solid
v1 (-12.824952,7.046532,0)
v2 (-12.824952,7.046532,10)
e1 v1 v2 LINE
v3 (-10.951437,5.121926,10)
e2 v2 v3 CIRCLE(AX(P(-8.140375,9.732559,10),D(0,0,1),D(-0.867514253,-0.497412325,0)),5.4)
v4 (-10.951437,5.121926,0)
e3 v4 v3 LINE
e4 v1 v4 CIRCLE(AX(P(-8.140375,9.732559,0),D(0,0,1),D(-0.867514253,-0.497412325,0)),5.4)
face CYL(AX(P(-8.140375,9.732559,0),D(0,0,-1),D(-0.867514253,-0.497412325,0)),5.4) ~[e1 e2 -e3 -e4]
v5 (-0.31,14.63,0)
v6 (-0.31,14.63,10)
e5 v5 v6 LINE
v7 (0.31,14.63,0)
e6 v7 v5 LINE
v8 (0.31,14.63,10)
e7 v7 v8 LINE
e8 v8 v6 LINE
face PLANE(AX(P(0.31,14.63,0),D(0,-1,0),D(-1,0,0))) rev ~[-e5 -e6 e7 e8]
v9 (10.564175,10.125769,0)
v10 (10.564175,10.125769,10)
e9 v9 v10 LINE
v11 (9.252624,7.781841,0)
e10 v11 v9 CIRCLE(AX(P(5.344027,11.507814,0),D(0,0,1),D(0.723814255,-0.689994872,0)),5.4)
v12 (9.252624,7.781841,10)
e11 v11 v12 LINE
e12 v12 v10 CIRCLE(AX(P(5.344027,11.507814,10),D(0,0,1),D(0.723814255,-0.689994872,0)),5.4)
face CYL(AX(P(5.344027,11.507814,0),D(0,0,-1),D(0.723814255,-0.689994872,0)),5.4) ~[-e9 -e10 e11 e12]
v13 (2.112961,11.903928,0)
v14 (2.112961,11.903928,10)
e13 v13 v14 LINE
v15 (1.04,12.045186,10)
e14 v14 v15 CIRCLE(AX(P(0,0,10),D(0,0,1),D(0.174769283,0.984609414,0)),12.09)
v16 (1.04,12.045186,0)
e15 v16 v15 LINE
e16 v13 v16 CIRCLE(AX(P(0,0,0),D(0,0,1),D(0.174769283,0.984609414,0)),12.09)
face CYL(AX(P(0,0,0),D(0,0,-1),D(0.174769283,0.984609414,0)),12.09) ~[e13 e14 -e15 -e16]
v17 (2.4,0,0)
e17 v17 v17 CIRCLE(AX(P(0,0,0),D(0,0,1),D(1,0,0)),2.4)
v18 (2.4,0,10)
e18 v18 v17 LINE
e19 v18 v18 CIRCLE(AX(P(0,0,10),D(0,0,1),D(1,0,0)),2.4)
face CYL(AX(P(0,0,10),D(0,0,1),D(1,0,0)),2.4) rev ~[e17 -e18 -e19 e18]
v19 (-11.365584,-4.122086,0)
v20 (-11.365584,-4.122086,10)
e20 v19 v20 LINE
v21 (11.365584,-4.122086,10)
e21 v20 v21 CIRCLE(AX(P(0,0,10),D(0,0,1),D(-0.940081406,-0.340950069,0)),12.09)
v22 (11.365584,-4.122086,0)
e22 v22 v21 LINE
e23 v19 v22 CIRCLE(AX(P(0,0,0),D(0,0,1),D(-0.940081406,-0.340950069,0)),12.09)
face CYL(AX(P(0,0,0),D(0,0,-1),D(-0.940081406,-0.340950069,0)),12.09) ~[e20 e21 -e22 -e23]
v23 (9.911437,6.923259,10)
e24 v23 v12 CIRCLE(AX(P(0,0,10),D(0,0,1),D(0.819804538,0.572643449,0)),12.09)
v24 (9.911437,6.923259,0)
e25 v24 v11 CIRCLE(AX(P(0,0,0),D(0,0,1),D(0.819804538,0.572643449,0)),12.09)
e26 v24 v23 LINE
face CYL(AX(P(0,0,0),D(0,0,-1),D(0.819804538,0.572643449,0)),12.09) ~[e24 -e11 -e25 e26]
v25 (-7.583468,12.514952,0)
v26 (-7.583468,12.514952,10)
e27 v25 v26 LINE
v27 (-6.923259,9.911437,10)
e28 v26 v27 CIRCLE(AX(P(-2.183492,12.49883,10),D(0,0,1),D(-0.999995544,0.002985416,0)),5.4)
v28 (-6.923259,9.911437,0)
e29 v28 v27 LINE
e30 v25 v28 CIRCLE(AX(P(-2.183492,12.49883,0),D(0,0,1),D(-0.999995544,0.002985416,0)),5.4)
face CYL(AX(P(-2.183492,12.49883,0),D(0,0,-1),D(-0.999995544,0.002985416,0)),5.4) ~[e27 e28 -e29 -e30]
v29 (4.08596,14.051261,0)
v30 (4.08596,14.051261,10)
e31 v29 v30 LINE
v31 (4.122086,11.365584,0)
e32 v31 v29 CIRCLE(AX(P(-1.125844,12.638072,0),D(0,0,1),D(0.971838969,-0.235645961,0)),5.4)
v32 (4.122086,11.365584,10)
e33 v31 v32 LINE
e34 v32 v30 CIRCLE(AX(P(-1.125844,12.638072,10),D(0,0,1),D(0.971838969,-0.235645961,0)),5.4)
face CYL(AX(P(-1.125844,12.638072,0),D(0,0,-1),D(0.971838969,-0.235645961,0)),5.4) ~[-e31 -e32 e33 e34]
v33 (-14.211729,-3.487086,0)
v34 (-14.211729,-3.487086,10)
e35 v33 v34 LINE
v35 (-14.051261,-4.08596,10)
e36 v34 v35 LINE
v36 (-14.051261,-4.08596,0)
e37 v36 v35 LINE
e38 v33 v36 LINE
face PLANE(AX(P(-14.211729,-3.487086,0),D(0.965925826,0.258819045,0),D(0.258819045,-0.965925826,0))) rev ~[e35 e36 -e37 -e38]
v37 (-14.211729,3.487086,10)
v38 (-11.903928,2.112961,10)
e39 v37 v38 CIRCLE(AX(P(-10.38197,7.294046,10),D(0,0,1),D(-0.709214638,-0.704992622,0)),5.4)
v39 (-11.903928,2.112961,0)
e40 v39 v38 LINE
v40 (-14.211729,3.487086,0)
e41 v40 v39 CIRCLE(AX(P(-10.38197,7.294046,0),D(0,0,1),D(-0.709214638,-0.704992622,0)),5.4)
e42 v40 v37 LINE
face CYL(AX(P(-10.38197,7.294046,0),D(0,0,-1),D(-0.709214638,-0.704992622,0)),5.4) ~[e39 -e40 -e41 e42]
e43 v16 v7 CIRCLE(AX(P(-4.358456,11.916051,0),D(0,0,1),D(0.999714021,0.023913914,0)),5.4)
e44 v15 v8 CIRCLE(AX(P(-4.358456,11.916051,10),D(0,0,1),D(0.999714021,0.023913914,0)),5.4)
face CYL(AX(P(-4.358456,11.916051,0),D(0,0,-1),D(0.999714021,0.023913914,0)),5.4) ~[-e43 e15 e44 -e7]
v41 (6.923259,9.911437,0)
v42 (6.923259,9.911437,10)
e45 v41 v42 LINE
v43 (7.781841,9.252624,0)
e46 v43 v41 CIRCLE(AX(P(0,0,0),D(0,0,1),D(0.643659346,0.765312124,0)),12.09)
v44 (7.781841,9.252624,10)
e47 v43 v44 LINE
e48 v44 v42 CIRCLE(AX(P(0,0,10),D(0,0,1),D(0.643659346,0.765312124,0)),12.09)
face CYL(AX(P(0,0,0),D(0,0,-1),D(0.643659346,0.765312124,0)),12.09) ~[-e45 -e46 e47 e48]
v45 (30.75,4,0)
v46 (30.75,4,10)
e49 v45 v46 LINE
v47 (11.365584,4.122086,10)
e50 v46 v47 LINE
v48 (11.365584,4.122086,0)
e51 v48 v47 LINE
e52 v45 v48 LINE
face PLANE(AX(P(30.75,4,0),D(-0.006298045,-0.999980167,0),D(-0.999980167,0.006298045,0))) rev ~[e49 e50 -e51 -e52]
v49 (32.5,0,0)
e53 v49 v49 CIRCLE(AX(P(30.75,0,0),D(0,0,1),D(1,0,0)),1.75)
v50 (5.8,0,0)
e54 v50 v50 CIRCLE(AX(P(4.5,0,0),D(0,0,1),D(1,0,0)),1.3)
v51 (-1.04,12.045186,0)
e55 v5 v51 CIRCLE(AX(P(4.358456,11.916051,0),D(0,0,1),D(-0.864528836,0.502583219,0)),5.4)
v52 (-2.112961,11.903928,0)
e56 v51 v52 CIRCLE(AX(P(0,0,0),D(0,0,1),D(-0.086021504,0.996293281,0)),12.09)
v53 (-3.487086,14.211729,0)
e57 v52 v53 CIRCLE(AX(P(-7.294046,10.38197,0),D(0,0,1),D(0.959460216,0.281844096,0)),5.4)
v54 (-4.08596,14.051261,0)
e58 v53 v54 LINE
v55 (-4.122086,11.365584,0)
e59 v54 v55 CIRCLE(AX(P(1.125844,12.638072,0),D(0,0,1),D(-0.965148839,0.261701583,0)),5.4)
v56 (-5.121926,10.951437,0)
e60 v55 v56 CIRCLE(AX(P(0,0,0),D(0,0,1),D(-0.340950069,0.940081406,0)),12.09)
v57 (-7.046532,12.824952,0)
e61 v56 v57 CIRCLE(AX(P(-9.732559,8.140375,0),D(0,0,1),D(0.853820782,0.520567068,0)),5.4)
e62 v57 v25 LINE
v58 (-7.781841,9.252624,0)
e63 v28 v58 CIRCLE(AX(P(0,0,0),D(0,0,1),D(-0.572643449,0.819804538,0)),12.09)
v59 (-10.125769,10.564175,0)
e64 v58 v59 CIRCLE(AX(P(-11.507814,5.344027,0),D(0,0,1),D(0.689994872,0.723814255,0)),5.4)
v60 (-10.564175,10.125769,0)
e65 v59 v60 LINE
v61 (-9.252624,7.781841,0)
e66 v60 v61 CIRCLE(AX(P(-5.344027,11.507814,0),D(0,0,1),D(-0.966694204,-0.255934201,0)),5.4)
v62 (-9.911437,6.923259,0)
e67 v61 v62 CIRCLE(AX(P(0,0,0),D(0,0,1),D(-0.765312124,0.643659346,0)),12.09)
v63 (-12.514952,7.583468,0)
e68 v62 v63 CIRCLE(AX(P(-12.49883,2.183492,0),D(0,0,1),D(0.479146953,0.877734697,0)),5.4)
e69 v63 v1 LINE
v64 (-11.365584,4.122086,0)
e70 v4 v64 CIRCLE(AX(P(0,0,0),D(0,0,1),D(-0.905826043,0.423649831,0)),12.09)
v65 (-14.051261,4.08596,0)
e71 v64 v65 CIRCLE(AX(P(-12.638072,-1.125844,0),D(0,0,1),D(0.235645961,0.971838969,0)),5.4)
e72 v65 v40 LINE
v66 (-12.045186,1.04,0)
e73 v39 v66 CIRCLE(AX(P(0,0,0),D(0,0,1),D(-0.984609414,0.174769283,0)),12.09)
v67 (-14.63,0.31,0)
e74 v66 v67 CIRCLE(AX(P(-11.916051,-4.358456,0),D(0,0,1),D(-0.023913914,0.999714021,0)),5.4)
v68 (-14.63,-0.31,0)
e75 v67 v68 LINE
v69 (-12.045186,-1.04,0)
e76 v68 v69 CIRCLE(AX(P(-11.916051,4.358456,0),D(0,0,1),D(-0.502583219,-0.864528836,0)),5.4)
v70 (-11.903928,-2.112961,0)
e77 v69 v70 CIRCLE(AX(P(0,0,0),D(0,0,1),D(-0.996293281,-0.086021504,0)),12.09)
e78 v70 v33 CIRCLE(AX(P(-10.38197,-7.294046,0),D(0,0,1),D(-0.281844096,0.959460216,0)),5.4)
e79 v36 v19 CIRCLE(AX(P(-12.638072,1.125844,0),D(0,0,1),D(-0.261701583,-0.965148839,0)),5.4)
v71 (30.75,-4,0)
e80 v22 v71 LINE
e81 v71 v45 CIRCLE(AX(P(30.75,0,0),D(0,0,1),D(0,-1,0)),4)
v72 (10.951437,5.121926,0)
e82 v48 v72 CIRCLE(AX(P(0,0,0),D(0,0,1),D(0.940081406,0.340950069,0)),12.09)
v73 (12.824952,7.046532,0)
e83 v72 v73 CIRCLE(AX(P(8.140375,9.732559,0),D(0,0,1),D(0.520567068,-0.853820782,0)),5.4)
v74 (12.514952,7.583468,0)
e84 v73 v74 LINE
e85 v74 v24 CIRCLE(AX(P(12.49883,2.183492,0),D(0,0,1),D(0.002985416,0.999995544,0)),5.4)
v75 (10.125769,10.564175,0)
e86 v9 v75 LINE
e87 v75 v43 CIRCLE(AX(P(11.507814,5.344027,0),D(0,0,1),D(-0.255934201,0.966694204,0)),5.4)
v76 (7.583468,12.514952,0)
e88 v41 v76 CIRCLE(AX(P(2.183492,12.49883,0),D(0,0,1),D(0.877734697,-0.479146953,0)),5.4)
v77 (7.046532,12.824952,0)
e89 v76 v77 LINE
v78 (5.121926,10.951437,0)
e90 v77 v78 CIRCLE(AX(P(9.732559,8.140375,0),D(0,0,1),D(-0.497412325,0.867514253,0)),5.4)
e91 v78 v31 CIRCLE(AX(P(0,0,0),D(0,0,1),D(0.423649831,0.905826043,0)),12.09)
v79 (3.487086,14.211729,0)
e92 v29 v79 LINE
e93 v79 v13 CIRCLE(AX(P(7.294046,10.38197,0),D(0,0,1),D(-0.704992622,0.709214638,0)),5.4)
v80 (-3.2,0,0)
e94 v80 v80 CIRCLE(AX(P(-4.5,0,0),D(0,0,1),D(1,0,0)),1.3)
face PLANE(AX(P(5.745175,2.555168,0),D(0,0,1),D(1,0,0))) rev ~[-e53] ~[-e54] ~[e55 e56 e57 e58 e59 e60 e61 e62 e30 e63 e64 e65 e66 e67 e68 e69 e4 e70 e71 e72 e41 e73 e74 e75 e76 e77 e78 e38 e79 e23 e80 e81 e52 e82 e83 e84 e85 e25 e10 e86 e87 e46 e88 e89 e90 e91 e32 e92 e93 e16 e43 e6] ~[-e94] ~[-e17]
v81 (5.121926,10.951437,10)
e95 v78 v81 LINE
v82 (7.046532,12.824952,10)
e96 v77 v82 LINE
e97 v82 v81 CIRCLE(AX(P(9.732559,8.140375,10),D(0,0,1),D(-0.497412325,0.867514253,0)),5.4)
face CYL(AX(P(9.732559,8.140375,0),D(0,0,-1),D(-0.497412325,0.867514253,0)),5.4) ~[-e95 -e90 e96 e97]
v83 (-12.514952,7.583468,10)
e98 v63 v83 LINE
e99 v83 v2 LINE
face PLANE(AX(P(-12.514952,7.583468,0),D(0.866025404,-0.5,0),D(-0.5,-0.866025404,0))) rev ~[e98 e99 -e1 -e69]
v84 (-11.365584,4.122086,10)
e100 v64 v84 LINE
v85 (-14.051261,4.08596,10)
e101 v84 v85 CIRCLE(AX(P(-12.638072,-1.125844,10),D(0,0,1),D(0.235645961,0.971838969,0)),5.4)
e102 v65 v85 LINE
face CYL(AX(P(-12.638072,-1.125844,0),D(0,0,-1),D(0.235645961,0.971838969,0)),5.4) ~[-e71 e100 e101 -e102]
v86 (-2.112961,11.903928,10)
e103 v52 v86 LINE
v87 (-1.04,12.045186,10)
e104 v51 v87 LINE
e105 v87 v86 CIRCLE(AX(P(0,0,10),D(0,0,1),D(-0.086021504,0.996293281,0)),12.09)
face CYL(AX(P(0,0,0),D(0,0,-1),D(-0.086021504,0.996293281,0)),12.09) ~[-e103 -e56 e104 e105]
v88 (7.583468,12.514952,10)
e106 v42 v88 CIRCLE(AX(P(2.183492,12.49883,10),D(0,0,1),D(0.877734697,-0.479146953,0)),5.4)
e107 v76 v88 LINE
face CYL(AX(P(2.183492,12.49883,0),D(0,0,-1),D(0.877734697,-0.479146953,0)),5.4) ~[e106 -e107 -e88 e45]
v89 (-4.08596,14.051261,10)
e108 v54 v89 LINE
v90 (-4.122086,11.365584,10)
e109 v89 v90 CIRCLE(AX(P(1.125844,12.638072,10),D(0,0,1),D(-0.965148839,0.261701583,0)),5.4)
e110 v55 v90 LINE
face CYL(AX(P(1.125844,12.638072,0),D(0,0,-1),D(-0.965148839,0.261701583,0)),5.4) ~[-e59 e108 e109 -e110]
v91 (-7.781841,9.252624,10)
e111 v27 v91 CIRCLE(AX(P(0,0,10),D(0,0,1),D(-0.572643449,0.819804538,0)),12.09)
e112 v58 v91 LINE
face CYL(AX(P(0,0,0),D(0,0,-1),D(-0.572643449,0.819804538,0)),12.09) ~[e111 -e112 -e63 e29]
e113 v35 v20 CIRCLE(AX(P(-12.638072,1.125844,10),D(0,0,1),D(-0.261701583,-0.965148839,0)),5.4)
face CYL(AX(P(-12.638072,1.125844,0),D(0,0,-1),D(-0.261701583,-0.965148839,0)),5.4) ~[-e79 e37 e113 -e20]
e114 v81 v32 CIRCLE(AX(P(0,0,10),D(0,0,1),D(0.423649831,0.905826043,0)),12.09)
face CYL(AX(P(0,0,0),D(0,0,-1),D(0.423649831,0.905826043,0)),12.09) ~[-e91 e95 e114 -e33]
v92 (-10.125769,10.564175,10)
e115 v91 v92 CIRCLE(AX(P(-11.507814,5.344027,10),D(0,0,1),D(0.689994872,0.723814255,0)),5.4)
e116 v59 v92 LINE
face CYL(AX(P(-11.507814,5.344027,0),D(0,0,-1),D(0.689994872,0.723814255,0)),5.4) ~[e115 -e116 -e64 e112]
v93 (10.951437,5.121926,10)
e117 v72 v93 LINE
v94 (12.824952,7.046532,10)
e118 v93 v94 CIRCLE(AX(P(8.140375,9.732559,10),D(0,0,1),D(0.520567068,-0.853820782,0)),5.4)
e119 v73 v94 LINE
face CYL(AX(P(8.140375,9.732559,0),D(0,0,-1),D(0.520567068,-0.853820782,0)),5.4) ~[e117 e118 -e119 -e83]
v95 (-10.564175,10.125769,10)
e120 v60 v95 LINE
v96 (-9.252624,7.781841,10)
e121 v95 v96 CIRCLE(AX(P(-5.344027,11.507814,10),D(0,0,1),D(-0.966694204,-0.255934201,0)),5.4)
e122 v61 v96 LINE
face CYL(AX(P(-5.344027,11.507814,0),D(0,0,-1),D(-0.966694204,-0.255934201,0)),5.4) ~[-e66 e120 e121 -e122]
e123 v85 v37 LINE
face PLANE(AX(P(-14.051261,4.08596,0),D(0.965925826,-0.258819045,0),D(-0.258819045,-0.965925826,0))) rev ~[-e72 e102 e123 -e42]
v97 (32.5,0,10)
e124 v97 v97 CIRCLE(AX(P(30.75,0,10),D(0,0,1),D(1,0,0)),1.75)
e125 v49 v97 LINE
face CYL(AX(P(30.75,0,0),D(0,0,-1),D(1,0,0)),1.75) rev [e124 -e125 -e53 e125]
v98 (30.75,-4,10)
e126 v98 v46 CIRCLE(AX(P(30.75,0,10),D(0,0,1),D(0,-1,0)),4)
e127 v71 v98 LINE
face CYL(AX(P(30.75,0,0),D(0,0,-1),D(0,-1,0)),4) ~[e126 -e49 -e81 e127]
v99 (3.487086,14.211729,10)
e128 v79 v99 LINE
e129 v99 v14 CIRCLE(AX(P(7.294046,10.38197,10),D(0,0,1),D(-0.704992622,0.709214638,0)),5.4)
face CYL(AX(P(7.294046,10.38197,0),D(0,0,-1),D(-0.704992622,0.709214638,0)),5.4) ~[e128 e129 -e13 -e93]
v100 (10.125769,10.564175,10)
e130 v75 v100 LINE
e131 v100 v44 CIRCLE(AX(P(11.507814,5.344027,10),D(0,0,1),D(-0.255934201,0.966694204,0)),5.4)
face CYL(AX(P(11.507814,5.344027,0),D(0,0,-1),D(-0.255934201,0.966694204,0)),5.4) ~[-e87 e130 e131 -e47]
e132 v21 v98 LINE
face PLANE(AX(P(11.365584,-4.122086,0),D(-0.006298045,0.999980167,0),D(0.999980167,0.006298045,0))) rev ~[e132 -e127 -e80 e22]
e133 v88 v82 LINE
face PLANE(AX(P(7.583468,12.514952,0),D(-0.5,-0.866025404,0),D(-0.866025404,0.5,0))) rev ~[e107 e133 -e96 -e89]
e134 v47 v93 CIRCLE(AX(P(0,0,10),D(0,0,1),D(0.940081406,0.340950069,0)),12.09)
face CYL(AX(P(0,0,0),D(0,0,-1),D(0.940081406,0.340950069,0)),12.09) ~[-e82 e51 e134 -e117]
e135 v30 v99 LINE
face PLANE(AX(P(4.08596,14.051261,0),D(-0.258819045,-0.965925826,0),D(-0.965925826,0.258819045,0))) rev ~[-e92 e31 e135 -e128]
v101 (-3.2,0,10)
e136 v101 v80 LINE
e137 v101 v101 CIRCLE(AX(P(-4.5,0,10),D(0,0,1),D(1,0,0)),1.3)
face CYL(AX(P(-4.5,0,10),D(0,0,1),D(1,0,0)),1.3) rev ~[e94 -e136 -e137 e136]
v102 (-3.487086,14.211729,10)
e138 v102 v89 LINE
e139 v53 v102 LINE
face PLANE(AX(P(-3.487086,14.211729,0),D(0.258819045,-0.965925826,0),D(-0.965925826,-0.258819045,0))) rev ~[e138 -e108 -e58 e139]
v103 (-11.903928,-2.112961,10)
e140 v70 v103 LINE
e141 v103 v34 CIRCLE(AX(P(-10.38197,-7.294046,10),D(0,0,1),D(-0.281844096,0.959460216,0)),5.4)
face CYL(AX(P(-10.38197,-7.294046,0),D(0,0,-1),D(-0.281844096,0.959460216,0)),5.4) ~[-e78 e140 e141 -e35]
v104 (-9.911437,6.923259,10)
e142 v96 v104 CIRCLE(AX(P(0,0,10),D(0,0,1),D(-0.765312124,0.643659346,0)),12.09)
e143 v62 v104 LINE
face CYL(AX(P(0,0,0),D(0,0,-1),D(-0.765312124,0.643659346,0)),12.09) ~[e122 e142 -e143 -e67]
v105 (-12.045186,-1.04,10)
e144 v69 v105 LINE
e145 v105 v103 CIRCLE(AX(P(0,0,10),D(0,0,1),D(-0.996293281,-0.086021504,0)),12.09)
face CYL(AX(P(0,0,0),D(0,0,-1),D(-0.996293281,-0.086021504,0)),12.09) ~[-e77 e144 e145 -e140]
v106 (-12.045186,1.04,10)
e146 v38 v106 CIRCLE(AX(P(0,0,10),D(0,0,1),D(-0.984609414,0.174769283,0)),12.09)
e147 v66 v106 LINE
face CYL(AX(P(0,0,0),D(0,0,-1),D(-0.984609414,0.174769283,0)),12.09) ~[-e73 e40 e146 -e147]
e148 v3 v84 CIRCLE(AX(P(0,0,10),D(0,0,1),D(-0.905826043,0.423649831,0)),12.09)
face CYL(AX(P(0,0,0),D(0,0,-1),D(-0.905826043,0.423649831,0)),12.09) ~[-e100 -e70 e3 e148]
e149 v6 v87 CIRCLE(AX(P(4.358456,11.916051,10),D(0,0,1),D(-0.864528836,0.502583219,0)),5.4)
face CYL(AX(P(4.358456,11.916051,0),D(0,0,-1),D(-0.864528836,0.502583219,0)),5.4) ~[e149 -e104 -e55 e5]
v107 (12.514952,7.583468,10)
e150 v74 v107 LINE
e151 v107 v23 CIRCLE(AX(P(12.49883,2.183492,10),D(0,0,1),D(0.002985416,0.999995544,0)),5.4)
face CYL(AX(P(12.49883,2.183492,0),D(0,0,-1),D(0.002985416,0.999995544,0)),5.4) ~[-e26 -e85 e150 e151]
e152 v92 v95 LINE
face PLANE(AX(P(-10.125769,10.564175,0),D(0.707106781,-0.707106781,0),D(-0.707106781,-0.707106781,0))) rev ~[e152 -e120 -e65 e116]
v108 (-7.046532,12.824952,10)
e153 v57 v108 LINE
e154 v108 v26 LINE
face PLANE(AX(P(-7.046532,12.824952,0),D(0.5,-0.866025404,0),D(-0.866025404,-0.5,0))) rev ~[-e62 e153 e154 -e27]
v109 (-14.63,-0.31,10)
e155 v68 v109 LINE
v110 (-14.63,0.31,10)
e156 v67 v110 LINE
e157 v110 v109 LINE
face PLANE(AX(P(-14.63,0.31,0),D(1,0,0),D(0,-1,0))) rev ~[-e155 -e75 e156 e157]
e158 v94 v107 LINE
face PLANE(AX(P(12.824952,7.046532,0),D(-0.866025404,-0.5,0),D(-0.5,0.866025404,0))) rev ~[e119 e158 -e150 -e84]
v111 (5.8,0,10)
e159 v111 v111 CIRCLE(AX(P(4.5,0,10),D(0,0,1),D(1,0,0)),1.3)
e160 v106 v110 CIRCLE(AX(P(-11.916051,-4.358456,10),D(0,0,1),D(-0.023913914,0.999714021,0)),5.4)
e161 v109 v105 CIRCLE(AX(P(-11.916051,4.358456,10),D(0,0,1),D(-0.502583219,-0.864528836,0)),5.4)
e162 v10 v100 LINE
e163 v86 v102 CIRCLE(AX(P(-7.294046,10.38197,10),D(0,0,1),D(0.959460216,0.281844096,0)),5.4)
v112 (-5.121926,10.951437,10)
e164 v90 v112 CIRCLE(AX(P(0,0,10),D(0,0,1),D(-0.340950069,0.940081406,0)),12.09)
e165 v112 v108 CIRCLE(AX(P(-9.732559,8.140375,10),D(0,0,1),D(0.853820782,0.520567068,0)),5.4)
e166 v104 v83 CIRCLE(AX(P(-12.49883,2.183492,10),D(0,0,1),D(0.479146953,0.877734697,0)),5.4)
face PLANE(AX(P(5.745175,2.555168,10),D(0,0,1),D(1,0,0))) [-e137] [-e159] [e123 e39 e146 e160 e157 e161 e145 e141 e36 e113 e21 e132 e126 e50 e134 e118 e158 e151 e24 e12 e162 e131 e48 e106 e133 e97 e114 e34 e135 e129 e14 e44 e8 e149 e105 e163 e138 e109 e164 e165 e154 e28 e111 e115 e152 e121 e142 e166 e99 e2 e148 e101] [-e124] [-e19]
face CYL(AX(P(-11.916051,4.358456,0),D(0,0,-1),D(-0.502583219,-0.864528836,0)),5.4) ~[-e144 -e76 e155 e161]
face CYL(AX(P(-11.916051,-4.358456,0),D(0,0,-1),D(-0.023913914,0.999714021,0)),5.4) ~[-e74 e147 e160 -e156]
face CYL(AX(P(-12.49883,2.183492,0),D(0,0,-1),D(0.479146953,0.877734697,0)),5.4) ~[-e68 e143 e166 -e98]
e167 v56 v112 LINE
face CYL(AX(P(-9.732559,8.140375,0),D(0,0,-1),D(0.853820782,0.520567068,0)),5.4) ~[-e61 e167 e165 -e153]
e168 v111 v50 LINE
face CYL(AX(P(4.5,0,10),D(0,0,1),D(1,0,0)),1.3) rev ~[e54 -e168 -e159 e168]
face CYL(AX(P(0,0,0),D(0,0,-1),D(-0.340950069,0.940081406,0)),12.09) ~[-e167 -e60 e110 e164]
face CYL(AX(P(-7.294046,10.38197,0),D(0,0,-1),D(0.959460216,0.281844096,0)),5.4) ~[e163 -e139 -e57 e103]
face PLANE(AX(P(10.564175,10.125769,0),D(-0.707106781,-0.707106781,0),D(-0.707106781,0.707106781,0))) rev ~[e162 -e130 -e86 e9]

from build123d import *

# Parameters (mm, degrees)
SKETCH1_R            = 1.75
BOSS_EXTRUDE13_DEPTH = 10
SKETCH2_R            = 1.3
SKETCH2_R_2          = 2.4
CUT_EXTRUDE1_DEPTH   = 40.007683858


with BuildPart() as part:
    # Sketch1 → Boss-Extrude13 (new body)
    with BuildSketch(Plane.XY):
        with BuildLine():
            ThreePointArc((1.04, 12.04518576), (0.838273314, 13.383704325), (0.31, 14.63))
            Line((0.31, 14.63), (-0.31, 14.63))
            ThreePointArc((-0.31, 14.63), (-0.838273314, 13.383704325), (-1.04, 12.04518576))
            ThreePointArc((-1.04, 12.04518576), (-1.578061664, 11.986568374), (-2.112960617, 11.903927815))
            ThreePointArc((-2.112960617, 11.903927815), (-2.65424773, 13.144626757), (-3.487085624, 14.211728743))
            Line((-3.487085624, 14.211728743), (-4.085959636, 14.051260935))
            ThreePointArc((-4.085959636, 14.051260935), (-4.273667417, 12.71070456), (-4.122086336, 11.365584201))
            ThreePointArc((-4.122086336, 11.365584201), (-4.626642697, 11.169703548), (-5.12192646, 10.951436862))
            ThreePointArc((-5.12192646, 10.951436862), (-5.965886177, 12.009764599), (-7.046532125, 12.824951657))
            Line((-7.046532125, 12.824951657), (-7.583467875, 12.514951657))
            ThreePointArc((-7.583467875, 12.514951657), (-7.417818147, 11.171491285), (-6.9232593, 9.911436862))
            ThreePointArc((-6.9232593, 9.911436862), (-7.359925677, 9.591641884), (-7.781841479, 9.252623584))
            ThreePointArc((-7.781841479, 9.252623584), (-8.870959341, 10.05645683), (-10.125769107, 10.564175311))
            Line((-10.125769107, 10.564175311), (-10.564175311, 10.125769107))
            ThreePointArc((-10.564175311, 10.125769107), (-10.05645683, 8.870959341), (-9.252623584, 7.781841479))
            ThreePointArc((-9.252623584, 7.781841479), (-9.591641884, 7.359925677), (-9.911436862, 6.9232593))
            ThreePointArc((-9.911436862, 6.9232593), (-11.171491285, 7.417818147), (-12.514951657, 7.583467875))
            Line((-12.514951657, 7.583467875), (-12.824951657, 7.046532125))
            ThreePointArc((-12.824951657, 7.046532125), (-12.009764599, 5.965886177), (-10.951436862, 5.12192646))
            ThreePointArc((-10.951436862, 5.12192646), (-11.169703548, 4.626642697), (-11.365584201, 4.122086336))
            ThreePointArc((-11.365584201, 4.122086336), (-12.71070456, 4.273667417), (-14.051260935, 4.085959636))
            Line((-14.051260935, 4.085959636), (-14.211728743, 3.487085624))
            ThreePointArc((-14.211728743, 3.487085624), (-13.144626757, 2.65424773), (-11.903927815, 2.112960617))
            ThreePointArc((-11.903927815, 2.112960617), (-11.986568374, 1.578061664), (-12.04518576, 1.04))
            ThreePointArc((-12.04518576, 1.04), (-13.383704325, 0.838273314), (-14.63, 0.31))
            Line((-14.63, 0.31), (-14.63, -0.31))
            ThreePointArc((-14.63, -0.31), (-13.383704325, -0.838273314), (-12.04518576, -1.04))
            ThreePointArc((-12.04518576, -1.04), (-11.986568374, -1.578061664), (-11.903927815, -2.112960617))
            ThreePointArc((-11.903927815, -2.112960617), (-13.144626757, -2.65424773), (-14.211728743, -3.487085624))
            Line((-14.211728743, -3.487085624), (-14.051260935, -4.085959636))
            ThreePointArc((-14.051260935, -4.085959636), (-12.71070456, -4.273667417), (-11.365584201, -4.122086336))
            ThreePointArc((-11.365584201, -4.122086336), (0, -12.09), (11.365584201, -4.122086336))
            Line((11.365584201, -4.122086336), (30.75, -4))
            ThreePointArc((30.75, -4), (34.75, 0), (30.75, 4))
            Line((30.75, 4), (11.365584201, 4.122086336))
            ThreePointArc((11.365584201, 4.122086336), (11.169703548, 4.626642697), (10.951436862, 5.12192646))
            ThreePointArc((10.951436862, 5.12192646), (12.009764599, 5.965886177), (12.824951657, 7.046532125))
            Line((12.824951657, 7.046532125), (12.514951657, 7.583467875))
            ThreePointArc((12.514951657, 7.583467875), (11.171491285, 7.417818147), (9.911436862, 6.9232593))
            ThreePointArc((9.911436862, 6.9232593), (9.591641884, 7.359925677), (9.252623584, 7.781841479))
            ThreePointArc((9.252623584, 7.781841479), (10.05645683, 8.870959341), (10.564175311, 10.125769107))
            Line((10.564175311, 10.125769107), (10.125769107, 10.564175311))
            ThreePointArc((10.125769107, 10.564175311), (8.870959341, 10.05645683), (7.781841479, 9.252623584))
            ThreePointArc((7.781841479, 9.252623584), (7.359925677, 9.591641884), (6.9232593, 9.911436862))
            ThreePointArc((6.9232593, 9.911436862), (7.417818147, 11.171491285), (7.583467875, 12.514951657))
            Line((7.583467875, 12.514951657), (7.046532125, 12.824951657))
            ThreePointArc((7.046532125, 12.824951657), (5.965886177, 12.009764599), (5.12192646, 10.951436862))
            ThreePointArc((5.12192646, 10.951436862), (4.626642697, 11.169703548), (4.122086336, 11.365584201))
            ThreePointArc((4.122086336, 11.365584201), (4.273667417, 12.71070456), (4.085959636, 14.051260935))
            Line((4.085959636, 14.051260935), (3.487085624, 14.211728743))
            ThreePointArc((3.487085624, 14.211728743), (2.65424773, 13.144626757), (2.112960617, 11.903927815))
            ThreePointArc((2.112960617, 11.903927815), (1.578061664, 11.986568374), (1.04, 12.04518576))
        make_face()
        Circle(SKETCH1_R, mode=Mode.SUBTRACT)
        with Locations((30.75, 0)):
            Circle(SKETCH1_R, mode=Mode.SUBTRACT)
    extrude(amount=BOSS_EXTRUDE13_DEPTH)

    # Sketch2 → Cut-Extrude1 (cut, through all)
    with BuildSketch(Plane.XY.offset(10)):
        with Locations((-4.5, 0)):
            Circle(SKETCH2_R)
        with Locations((4.5, 0)):
            Circle(SKETCH2_R)
        Circle(SKETCH2_R_2)
    extrude(amount=-CUT_EXTRUDE1_DEPTH, mode=Mode.SUBTRACT)


solid = part.part
